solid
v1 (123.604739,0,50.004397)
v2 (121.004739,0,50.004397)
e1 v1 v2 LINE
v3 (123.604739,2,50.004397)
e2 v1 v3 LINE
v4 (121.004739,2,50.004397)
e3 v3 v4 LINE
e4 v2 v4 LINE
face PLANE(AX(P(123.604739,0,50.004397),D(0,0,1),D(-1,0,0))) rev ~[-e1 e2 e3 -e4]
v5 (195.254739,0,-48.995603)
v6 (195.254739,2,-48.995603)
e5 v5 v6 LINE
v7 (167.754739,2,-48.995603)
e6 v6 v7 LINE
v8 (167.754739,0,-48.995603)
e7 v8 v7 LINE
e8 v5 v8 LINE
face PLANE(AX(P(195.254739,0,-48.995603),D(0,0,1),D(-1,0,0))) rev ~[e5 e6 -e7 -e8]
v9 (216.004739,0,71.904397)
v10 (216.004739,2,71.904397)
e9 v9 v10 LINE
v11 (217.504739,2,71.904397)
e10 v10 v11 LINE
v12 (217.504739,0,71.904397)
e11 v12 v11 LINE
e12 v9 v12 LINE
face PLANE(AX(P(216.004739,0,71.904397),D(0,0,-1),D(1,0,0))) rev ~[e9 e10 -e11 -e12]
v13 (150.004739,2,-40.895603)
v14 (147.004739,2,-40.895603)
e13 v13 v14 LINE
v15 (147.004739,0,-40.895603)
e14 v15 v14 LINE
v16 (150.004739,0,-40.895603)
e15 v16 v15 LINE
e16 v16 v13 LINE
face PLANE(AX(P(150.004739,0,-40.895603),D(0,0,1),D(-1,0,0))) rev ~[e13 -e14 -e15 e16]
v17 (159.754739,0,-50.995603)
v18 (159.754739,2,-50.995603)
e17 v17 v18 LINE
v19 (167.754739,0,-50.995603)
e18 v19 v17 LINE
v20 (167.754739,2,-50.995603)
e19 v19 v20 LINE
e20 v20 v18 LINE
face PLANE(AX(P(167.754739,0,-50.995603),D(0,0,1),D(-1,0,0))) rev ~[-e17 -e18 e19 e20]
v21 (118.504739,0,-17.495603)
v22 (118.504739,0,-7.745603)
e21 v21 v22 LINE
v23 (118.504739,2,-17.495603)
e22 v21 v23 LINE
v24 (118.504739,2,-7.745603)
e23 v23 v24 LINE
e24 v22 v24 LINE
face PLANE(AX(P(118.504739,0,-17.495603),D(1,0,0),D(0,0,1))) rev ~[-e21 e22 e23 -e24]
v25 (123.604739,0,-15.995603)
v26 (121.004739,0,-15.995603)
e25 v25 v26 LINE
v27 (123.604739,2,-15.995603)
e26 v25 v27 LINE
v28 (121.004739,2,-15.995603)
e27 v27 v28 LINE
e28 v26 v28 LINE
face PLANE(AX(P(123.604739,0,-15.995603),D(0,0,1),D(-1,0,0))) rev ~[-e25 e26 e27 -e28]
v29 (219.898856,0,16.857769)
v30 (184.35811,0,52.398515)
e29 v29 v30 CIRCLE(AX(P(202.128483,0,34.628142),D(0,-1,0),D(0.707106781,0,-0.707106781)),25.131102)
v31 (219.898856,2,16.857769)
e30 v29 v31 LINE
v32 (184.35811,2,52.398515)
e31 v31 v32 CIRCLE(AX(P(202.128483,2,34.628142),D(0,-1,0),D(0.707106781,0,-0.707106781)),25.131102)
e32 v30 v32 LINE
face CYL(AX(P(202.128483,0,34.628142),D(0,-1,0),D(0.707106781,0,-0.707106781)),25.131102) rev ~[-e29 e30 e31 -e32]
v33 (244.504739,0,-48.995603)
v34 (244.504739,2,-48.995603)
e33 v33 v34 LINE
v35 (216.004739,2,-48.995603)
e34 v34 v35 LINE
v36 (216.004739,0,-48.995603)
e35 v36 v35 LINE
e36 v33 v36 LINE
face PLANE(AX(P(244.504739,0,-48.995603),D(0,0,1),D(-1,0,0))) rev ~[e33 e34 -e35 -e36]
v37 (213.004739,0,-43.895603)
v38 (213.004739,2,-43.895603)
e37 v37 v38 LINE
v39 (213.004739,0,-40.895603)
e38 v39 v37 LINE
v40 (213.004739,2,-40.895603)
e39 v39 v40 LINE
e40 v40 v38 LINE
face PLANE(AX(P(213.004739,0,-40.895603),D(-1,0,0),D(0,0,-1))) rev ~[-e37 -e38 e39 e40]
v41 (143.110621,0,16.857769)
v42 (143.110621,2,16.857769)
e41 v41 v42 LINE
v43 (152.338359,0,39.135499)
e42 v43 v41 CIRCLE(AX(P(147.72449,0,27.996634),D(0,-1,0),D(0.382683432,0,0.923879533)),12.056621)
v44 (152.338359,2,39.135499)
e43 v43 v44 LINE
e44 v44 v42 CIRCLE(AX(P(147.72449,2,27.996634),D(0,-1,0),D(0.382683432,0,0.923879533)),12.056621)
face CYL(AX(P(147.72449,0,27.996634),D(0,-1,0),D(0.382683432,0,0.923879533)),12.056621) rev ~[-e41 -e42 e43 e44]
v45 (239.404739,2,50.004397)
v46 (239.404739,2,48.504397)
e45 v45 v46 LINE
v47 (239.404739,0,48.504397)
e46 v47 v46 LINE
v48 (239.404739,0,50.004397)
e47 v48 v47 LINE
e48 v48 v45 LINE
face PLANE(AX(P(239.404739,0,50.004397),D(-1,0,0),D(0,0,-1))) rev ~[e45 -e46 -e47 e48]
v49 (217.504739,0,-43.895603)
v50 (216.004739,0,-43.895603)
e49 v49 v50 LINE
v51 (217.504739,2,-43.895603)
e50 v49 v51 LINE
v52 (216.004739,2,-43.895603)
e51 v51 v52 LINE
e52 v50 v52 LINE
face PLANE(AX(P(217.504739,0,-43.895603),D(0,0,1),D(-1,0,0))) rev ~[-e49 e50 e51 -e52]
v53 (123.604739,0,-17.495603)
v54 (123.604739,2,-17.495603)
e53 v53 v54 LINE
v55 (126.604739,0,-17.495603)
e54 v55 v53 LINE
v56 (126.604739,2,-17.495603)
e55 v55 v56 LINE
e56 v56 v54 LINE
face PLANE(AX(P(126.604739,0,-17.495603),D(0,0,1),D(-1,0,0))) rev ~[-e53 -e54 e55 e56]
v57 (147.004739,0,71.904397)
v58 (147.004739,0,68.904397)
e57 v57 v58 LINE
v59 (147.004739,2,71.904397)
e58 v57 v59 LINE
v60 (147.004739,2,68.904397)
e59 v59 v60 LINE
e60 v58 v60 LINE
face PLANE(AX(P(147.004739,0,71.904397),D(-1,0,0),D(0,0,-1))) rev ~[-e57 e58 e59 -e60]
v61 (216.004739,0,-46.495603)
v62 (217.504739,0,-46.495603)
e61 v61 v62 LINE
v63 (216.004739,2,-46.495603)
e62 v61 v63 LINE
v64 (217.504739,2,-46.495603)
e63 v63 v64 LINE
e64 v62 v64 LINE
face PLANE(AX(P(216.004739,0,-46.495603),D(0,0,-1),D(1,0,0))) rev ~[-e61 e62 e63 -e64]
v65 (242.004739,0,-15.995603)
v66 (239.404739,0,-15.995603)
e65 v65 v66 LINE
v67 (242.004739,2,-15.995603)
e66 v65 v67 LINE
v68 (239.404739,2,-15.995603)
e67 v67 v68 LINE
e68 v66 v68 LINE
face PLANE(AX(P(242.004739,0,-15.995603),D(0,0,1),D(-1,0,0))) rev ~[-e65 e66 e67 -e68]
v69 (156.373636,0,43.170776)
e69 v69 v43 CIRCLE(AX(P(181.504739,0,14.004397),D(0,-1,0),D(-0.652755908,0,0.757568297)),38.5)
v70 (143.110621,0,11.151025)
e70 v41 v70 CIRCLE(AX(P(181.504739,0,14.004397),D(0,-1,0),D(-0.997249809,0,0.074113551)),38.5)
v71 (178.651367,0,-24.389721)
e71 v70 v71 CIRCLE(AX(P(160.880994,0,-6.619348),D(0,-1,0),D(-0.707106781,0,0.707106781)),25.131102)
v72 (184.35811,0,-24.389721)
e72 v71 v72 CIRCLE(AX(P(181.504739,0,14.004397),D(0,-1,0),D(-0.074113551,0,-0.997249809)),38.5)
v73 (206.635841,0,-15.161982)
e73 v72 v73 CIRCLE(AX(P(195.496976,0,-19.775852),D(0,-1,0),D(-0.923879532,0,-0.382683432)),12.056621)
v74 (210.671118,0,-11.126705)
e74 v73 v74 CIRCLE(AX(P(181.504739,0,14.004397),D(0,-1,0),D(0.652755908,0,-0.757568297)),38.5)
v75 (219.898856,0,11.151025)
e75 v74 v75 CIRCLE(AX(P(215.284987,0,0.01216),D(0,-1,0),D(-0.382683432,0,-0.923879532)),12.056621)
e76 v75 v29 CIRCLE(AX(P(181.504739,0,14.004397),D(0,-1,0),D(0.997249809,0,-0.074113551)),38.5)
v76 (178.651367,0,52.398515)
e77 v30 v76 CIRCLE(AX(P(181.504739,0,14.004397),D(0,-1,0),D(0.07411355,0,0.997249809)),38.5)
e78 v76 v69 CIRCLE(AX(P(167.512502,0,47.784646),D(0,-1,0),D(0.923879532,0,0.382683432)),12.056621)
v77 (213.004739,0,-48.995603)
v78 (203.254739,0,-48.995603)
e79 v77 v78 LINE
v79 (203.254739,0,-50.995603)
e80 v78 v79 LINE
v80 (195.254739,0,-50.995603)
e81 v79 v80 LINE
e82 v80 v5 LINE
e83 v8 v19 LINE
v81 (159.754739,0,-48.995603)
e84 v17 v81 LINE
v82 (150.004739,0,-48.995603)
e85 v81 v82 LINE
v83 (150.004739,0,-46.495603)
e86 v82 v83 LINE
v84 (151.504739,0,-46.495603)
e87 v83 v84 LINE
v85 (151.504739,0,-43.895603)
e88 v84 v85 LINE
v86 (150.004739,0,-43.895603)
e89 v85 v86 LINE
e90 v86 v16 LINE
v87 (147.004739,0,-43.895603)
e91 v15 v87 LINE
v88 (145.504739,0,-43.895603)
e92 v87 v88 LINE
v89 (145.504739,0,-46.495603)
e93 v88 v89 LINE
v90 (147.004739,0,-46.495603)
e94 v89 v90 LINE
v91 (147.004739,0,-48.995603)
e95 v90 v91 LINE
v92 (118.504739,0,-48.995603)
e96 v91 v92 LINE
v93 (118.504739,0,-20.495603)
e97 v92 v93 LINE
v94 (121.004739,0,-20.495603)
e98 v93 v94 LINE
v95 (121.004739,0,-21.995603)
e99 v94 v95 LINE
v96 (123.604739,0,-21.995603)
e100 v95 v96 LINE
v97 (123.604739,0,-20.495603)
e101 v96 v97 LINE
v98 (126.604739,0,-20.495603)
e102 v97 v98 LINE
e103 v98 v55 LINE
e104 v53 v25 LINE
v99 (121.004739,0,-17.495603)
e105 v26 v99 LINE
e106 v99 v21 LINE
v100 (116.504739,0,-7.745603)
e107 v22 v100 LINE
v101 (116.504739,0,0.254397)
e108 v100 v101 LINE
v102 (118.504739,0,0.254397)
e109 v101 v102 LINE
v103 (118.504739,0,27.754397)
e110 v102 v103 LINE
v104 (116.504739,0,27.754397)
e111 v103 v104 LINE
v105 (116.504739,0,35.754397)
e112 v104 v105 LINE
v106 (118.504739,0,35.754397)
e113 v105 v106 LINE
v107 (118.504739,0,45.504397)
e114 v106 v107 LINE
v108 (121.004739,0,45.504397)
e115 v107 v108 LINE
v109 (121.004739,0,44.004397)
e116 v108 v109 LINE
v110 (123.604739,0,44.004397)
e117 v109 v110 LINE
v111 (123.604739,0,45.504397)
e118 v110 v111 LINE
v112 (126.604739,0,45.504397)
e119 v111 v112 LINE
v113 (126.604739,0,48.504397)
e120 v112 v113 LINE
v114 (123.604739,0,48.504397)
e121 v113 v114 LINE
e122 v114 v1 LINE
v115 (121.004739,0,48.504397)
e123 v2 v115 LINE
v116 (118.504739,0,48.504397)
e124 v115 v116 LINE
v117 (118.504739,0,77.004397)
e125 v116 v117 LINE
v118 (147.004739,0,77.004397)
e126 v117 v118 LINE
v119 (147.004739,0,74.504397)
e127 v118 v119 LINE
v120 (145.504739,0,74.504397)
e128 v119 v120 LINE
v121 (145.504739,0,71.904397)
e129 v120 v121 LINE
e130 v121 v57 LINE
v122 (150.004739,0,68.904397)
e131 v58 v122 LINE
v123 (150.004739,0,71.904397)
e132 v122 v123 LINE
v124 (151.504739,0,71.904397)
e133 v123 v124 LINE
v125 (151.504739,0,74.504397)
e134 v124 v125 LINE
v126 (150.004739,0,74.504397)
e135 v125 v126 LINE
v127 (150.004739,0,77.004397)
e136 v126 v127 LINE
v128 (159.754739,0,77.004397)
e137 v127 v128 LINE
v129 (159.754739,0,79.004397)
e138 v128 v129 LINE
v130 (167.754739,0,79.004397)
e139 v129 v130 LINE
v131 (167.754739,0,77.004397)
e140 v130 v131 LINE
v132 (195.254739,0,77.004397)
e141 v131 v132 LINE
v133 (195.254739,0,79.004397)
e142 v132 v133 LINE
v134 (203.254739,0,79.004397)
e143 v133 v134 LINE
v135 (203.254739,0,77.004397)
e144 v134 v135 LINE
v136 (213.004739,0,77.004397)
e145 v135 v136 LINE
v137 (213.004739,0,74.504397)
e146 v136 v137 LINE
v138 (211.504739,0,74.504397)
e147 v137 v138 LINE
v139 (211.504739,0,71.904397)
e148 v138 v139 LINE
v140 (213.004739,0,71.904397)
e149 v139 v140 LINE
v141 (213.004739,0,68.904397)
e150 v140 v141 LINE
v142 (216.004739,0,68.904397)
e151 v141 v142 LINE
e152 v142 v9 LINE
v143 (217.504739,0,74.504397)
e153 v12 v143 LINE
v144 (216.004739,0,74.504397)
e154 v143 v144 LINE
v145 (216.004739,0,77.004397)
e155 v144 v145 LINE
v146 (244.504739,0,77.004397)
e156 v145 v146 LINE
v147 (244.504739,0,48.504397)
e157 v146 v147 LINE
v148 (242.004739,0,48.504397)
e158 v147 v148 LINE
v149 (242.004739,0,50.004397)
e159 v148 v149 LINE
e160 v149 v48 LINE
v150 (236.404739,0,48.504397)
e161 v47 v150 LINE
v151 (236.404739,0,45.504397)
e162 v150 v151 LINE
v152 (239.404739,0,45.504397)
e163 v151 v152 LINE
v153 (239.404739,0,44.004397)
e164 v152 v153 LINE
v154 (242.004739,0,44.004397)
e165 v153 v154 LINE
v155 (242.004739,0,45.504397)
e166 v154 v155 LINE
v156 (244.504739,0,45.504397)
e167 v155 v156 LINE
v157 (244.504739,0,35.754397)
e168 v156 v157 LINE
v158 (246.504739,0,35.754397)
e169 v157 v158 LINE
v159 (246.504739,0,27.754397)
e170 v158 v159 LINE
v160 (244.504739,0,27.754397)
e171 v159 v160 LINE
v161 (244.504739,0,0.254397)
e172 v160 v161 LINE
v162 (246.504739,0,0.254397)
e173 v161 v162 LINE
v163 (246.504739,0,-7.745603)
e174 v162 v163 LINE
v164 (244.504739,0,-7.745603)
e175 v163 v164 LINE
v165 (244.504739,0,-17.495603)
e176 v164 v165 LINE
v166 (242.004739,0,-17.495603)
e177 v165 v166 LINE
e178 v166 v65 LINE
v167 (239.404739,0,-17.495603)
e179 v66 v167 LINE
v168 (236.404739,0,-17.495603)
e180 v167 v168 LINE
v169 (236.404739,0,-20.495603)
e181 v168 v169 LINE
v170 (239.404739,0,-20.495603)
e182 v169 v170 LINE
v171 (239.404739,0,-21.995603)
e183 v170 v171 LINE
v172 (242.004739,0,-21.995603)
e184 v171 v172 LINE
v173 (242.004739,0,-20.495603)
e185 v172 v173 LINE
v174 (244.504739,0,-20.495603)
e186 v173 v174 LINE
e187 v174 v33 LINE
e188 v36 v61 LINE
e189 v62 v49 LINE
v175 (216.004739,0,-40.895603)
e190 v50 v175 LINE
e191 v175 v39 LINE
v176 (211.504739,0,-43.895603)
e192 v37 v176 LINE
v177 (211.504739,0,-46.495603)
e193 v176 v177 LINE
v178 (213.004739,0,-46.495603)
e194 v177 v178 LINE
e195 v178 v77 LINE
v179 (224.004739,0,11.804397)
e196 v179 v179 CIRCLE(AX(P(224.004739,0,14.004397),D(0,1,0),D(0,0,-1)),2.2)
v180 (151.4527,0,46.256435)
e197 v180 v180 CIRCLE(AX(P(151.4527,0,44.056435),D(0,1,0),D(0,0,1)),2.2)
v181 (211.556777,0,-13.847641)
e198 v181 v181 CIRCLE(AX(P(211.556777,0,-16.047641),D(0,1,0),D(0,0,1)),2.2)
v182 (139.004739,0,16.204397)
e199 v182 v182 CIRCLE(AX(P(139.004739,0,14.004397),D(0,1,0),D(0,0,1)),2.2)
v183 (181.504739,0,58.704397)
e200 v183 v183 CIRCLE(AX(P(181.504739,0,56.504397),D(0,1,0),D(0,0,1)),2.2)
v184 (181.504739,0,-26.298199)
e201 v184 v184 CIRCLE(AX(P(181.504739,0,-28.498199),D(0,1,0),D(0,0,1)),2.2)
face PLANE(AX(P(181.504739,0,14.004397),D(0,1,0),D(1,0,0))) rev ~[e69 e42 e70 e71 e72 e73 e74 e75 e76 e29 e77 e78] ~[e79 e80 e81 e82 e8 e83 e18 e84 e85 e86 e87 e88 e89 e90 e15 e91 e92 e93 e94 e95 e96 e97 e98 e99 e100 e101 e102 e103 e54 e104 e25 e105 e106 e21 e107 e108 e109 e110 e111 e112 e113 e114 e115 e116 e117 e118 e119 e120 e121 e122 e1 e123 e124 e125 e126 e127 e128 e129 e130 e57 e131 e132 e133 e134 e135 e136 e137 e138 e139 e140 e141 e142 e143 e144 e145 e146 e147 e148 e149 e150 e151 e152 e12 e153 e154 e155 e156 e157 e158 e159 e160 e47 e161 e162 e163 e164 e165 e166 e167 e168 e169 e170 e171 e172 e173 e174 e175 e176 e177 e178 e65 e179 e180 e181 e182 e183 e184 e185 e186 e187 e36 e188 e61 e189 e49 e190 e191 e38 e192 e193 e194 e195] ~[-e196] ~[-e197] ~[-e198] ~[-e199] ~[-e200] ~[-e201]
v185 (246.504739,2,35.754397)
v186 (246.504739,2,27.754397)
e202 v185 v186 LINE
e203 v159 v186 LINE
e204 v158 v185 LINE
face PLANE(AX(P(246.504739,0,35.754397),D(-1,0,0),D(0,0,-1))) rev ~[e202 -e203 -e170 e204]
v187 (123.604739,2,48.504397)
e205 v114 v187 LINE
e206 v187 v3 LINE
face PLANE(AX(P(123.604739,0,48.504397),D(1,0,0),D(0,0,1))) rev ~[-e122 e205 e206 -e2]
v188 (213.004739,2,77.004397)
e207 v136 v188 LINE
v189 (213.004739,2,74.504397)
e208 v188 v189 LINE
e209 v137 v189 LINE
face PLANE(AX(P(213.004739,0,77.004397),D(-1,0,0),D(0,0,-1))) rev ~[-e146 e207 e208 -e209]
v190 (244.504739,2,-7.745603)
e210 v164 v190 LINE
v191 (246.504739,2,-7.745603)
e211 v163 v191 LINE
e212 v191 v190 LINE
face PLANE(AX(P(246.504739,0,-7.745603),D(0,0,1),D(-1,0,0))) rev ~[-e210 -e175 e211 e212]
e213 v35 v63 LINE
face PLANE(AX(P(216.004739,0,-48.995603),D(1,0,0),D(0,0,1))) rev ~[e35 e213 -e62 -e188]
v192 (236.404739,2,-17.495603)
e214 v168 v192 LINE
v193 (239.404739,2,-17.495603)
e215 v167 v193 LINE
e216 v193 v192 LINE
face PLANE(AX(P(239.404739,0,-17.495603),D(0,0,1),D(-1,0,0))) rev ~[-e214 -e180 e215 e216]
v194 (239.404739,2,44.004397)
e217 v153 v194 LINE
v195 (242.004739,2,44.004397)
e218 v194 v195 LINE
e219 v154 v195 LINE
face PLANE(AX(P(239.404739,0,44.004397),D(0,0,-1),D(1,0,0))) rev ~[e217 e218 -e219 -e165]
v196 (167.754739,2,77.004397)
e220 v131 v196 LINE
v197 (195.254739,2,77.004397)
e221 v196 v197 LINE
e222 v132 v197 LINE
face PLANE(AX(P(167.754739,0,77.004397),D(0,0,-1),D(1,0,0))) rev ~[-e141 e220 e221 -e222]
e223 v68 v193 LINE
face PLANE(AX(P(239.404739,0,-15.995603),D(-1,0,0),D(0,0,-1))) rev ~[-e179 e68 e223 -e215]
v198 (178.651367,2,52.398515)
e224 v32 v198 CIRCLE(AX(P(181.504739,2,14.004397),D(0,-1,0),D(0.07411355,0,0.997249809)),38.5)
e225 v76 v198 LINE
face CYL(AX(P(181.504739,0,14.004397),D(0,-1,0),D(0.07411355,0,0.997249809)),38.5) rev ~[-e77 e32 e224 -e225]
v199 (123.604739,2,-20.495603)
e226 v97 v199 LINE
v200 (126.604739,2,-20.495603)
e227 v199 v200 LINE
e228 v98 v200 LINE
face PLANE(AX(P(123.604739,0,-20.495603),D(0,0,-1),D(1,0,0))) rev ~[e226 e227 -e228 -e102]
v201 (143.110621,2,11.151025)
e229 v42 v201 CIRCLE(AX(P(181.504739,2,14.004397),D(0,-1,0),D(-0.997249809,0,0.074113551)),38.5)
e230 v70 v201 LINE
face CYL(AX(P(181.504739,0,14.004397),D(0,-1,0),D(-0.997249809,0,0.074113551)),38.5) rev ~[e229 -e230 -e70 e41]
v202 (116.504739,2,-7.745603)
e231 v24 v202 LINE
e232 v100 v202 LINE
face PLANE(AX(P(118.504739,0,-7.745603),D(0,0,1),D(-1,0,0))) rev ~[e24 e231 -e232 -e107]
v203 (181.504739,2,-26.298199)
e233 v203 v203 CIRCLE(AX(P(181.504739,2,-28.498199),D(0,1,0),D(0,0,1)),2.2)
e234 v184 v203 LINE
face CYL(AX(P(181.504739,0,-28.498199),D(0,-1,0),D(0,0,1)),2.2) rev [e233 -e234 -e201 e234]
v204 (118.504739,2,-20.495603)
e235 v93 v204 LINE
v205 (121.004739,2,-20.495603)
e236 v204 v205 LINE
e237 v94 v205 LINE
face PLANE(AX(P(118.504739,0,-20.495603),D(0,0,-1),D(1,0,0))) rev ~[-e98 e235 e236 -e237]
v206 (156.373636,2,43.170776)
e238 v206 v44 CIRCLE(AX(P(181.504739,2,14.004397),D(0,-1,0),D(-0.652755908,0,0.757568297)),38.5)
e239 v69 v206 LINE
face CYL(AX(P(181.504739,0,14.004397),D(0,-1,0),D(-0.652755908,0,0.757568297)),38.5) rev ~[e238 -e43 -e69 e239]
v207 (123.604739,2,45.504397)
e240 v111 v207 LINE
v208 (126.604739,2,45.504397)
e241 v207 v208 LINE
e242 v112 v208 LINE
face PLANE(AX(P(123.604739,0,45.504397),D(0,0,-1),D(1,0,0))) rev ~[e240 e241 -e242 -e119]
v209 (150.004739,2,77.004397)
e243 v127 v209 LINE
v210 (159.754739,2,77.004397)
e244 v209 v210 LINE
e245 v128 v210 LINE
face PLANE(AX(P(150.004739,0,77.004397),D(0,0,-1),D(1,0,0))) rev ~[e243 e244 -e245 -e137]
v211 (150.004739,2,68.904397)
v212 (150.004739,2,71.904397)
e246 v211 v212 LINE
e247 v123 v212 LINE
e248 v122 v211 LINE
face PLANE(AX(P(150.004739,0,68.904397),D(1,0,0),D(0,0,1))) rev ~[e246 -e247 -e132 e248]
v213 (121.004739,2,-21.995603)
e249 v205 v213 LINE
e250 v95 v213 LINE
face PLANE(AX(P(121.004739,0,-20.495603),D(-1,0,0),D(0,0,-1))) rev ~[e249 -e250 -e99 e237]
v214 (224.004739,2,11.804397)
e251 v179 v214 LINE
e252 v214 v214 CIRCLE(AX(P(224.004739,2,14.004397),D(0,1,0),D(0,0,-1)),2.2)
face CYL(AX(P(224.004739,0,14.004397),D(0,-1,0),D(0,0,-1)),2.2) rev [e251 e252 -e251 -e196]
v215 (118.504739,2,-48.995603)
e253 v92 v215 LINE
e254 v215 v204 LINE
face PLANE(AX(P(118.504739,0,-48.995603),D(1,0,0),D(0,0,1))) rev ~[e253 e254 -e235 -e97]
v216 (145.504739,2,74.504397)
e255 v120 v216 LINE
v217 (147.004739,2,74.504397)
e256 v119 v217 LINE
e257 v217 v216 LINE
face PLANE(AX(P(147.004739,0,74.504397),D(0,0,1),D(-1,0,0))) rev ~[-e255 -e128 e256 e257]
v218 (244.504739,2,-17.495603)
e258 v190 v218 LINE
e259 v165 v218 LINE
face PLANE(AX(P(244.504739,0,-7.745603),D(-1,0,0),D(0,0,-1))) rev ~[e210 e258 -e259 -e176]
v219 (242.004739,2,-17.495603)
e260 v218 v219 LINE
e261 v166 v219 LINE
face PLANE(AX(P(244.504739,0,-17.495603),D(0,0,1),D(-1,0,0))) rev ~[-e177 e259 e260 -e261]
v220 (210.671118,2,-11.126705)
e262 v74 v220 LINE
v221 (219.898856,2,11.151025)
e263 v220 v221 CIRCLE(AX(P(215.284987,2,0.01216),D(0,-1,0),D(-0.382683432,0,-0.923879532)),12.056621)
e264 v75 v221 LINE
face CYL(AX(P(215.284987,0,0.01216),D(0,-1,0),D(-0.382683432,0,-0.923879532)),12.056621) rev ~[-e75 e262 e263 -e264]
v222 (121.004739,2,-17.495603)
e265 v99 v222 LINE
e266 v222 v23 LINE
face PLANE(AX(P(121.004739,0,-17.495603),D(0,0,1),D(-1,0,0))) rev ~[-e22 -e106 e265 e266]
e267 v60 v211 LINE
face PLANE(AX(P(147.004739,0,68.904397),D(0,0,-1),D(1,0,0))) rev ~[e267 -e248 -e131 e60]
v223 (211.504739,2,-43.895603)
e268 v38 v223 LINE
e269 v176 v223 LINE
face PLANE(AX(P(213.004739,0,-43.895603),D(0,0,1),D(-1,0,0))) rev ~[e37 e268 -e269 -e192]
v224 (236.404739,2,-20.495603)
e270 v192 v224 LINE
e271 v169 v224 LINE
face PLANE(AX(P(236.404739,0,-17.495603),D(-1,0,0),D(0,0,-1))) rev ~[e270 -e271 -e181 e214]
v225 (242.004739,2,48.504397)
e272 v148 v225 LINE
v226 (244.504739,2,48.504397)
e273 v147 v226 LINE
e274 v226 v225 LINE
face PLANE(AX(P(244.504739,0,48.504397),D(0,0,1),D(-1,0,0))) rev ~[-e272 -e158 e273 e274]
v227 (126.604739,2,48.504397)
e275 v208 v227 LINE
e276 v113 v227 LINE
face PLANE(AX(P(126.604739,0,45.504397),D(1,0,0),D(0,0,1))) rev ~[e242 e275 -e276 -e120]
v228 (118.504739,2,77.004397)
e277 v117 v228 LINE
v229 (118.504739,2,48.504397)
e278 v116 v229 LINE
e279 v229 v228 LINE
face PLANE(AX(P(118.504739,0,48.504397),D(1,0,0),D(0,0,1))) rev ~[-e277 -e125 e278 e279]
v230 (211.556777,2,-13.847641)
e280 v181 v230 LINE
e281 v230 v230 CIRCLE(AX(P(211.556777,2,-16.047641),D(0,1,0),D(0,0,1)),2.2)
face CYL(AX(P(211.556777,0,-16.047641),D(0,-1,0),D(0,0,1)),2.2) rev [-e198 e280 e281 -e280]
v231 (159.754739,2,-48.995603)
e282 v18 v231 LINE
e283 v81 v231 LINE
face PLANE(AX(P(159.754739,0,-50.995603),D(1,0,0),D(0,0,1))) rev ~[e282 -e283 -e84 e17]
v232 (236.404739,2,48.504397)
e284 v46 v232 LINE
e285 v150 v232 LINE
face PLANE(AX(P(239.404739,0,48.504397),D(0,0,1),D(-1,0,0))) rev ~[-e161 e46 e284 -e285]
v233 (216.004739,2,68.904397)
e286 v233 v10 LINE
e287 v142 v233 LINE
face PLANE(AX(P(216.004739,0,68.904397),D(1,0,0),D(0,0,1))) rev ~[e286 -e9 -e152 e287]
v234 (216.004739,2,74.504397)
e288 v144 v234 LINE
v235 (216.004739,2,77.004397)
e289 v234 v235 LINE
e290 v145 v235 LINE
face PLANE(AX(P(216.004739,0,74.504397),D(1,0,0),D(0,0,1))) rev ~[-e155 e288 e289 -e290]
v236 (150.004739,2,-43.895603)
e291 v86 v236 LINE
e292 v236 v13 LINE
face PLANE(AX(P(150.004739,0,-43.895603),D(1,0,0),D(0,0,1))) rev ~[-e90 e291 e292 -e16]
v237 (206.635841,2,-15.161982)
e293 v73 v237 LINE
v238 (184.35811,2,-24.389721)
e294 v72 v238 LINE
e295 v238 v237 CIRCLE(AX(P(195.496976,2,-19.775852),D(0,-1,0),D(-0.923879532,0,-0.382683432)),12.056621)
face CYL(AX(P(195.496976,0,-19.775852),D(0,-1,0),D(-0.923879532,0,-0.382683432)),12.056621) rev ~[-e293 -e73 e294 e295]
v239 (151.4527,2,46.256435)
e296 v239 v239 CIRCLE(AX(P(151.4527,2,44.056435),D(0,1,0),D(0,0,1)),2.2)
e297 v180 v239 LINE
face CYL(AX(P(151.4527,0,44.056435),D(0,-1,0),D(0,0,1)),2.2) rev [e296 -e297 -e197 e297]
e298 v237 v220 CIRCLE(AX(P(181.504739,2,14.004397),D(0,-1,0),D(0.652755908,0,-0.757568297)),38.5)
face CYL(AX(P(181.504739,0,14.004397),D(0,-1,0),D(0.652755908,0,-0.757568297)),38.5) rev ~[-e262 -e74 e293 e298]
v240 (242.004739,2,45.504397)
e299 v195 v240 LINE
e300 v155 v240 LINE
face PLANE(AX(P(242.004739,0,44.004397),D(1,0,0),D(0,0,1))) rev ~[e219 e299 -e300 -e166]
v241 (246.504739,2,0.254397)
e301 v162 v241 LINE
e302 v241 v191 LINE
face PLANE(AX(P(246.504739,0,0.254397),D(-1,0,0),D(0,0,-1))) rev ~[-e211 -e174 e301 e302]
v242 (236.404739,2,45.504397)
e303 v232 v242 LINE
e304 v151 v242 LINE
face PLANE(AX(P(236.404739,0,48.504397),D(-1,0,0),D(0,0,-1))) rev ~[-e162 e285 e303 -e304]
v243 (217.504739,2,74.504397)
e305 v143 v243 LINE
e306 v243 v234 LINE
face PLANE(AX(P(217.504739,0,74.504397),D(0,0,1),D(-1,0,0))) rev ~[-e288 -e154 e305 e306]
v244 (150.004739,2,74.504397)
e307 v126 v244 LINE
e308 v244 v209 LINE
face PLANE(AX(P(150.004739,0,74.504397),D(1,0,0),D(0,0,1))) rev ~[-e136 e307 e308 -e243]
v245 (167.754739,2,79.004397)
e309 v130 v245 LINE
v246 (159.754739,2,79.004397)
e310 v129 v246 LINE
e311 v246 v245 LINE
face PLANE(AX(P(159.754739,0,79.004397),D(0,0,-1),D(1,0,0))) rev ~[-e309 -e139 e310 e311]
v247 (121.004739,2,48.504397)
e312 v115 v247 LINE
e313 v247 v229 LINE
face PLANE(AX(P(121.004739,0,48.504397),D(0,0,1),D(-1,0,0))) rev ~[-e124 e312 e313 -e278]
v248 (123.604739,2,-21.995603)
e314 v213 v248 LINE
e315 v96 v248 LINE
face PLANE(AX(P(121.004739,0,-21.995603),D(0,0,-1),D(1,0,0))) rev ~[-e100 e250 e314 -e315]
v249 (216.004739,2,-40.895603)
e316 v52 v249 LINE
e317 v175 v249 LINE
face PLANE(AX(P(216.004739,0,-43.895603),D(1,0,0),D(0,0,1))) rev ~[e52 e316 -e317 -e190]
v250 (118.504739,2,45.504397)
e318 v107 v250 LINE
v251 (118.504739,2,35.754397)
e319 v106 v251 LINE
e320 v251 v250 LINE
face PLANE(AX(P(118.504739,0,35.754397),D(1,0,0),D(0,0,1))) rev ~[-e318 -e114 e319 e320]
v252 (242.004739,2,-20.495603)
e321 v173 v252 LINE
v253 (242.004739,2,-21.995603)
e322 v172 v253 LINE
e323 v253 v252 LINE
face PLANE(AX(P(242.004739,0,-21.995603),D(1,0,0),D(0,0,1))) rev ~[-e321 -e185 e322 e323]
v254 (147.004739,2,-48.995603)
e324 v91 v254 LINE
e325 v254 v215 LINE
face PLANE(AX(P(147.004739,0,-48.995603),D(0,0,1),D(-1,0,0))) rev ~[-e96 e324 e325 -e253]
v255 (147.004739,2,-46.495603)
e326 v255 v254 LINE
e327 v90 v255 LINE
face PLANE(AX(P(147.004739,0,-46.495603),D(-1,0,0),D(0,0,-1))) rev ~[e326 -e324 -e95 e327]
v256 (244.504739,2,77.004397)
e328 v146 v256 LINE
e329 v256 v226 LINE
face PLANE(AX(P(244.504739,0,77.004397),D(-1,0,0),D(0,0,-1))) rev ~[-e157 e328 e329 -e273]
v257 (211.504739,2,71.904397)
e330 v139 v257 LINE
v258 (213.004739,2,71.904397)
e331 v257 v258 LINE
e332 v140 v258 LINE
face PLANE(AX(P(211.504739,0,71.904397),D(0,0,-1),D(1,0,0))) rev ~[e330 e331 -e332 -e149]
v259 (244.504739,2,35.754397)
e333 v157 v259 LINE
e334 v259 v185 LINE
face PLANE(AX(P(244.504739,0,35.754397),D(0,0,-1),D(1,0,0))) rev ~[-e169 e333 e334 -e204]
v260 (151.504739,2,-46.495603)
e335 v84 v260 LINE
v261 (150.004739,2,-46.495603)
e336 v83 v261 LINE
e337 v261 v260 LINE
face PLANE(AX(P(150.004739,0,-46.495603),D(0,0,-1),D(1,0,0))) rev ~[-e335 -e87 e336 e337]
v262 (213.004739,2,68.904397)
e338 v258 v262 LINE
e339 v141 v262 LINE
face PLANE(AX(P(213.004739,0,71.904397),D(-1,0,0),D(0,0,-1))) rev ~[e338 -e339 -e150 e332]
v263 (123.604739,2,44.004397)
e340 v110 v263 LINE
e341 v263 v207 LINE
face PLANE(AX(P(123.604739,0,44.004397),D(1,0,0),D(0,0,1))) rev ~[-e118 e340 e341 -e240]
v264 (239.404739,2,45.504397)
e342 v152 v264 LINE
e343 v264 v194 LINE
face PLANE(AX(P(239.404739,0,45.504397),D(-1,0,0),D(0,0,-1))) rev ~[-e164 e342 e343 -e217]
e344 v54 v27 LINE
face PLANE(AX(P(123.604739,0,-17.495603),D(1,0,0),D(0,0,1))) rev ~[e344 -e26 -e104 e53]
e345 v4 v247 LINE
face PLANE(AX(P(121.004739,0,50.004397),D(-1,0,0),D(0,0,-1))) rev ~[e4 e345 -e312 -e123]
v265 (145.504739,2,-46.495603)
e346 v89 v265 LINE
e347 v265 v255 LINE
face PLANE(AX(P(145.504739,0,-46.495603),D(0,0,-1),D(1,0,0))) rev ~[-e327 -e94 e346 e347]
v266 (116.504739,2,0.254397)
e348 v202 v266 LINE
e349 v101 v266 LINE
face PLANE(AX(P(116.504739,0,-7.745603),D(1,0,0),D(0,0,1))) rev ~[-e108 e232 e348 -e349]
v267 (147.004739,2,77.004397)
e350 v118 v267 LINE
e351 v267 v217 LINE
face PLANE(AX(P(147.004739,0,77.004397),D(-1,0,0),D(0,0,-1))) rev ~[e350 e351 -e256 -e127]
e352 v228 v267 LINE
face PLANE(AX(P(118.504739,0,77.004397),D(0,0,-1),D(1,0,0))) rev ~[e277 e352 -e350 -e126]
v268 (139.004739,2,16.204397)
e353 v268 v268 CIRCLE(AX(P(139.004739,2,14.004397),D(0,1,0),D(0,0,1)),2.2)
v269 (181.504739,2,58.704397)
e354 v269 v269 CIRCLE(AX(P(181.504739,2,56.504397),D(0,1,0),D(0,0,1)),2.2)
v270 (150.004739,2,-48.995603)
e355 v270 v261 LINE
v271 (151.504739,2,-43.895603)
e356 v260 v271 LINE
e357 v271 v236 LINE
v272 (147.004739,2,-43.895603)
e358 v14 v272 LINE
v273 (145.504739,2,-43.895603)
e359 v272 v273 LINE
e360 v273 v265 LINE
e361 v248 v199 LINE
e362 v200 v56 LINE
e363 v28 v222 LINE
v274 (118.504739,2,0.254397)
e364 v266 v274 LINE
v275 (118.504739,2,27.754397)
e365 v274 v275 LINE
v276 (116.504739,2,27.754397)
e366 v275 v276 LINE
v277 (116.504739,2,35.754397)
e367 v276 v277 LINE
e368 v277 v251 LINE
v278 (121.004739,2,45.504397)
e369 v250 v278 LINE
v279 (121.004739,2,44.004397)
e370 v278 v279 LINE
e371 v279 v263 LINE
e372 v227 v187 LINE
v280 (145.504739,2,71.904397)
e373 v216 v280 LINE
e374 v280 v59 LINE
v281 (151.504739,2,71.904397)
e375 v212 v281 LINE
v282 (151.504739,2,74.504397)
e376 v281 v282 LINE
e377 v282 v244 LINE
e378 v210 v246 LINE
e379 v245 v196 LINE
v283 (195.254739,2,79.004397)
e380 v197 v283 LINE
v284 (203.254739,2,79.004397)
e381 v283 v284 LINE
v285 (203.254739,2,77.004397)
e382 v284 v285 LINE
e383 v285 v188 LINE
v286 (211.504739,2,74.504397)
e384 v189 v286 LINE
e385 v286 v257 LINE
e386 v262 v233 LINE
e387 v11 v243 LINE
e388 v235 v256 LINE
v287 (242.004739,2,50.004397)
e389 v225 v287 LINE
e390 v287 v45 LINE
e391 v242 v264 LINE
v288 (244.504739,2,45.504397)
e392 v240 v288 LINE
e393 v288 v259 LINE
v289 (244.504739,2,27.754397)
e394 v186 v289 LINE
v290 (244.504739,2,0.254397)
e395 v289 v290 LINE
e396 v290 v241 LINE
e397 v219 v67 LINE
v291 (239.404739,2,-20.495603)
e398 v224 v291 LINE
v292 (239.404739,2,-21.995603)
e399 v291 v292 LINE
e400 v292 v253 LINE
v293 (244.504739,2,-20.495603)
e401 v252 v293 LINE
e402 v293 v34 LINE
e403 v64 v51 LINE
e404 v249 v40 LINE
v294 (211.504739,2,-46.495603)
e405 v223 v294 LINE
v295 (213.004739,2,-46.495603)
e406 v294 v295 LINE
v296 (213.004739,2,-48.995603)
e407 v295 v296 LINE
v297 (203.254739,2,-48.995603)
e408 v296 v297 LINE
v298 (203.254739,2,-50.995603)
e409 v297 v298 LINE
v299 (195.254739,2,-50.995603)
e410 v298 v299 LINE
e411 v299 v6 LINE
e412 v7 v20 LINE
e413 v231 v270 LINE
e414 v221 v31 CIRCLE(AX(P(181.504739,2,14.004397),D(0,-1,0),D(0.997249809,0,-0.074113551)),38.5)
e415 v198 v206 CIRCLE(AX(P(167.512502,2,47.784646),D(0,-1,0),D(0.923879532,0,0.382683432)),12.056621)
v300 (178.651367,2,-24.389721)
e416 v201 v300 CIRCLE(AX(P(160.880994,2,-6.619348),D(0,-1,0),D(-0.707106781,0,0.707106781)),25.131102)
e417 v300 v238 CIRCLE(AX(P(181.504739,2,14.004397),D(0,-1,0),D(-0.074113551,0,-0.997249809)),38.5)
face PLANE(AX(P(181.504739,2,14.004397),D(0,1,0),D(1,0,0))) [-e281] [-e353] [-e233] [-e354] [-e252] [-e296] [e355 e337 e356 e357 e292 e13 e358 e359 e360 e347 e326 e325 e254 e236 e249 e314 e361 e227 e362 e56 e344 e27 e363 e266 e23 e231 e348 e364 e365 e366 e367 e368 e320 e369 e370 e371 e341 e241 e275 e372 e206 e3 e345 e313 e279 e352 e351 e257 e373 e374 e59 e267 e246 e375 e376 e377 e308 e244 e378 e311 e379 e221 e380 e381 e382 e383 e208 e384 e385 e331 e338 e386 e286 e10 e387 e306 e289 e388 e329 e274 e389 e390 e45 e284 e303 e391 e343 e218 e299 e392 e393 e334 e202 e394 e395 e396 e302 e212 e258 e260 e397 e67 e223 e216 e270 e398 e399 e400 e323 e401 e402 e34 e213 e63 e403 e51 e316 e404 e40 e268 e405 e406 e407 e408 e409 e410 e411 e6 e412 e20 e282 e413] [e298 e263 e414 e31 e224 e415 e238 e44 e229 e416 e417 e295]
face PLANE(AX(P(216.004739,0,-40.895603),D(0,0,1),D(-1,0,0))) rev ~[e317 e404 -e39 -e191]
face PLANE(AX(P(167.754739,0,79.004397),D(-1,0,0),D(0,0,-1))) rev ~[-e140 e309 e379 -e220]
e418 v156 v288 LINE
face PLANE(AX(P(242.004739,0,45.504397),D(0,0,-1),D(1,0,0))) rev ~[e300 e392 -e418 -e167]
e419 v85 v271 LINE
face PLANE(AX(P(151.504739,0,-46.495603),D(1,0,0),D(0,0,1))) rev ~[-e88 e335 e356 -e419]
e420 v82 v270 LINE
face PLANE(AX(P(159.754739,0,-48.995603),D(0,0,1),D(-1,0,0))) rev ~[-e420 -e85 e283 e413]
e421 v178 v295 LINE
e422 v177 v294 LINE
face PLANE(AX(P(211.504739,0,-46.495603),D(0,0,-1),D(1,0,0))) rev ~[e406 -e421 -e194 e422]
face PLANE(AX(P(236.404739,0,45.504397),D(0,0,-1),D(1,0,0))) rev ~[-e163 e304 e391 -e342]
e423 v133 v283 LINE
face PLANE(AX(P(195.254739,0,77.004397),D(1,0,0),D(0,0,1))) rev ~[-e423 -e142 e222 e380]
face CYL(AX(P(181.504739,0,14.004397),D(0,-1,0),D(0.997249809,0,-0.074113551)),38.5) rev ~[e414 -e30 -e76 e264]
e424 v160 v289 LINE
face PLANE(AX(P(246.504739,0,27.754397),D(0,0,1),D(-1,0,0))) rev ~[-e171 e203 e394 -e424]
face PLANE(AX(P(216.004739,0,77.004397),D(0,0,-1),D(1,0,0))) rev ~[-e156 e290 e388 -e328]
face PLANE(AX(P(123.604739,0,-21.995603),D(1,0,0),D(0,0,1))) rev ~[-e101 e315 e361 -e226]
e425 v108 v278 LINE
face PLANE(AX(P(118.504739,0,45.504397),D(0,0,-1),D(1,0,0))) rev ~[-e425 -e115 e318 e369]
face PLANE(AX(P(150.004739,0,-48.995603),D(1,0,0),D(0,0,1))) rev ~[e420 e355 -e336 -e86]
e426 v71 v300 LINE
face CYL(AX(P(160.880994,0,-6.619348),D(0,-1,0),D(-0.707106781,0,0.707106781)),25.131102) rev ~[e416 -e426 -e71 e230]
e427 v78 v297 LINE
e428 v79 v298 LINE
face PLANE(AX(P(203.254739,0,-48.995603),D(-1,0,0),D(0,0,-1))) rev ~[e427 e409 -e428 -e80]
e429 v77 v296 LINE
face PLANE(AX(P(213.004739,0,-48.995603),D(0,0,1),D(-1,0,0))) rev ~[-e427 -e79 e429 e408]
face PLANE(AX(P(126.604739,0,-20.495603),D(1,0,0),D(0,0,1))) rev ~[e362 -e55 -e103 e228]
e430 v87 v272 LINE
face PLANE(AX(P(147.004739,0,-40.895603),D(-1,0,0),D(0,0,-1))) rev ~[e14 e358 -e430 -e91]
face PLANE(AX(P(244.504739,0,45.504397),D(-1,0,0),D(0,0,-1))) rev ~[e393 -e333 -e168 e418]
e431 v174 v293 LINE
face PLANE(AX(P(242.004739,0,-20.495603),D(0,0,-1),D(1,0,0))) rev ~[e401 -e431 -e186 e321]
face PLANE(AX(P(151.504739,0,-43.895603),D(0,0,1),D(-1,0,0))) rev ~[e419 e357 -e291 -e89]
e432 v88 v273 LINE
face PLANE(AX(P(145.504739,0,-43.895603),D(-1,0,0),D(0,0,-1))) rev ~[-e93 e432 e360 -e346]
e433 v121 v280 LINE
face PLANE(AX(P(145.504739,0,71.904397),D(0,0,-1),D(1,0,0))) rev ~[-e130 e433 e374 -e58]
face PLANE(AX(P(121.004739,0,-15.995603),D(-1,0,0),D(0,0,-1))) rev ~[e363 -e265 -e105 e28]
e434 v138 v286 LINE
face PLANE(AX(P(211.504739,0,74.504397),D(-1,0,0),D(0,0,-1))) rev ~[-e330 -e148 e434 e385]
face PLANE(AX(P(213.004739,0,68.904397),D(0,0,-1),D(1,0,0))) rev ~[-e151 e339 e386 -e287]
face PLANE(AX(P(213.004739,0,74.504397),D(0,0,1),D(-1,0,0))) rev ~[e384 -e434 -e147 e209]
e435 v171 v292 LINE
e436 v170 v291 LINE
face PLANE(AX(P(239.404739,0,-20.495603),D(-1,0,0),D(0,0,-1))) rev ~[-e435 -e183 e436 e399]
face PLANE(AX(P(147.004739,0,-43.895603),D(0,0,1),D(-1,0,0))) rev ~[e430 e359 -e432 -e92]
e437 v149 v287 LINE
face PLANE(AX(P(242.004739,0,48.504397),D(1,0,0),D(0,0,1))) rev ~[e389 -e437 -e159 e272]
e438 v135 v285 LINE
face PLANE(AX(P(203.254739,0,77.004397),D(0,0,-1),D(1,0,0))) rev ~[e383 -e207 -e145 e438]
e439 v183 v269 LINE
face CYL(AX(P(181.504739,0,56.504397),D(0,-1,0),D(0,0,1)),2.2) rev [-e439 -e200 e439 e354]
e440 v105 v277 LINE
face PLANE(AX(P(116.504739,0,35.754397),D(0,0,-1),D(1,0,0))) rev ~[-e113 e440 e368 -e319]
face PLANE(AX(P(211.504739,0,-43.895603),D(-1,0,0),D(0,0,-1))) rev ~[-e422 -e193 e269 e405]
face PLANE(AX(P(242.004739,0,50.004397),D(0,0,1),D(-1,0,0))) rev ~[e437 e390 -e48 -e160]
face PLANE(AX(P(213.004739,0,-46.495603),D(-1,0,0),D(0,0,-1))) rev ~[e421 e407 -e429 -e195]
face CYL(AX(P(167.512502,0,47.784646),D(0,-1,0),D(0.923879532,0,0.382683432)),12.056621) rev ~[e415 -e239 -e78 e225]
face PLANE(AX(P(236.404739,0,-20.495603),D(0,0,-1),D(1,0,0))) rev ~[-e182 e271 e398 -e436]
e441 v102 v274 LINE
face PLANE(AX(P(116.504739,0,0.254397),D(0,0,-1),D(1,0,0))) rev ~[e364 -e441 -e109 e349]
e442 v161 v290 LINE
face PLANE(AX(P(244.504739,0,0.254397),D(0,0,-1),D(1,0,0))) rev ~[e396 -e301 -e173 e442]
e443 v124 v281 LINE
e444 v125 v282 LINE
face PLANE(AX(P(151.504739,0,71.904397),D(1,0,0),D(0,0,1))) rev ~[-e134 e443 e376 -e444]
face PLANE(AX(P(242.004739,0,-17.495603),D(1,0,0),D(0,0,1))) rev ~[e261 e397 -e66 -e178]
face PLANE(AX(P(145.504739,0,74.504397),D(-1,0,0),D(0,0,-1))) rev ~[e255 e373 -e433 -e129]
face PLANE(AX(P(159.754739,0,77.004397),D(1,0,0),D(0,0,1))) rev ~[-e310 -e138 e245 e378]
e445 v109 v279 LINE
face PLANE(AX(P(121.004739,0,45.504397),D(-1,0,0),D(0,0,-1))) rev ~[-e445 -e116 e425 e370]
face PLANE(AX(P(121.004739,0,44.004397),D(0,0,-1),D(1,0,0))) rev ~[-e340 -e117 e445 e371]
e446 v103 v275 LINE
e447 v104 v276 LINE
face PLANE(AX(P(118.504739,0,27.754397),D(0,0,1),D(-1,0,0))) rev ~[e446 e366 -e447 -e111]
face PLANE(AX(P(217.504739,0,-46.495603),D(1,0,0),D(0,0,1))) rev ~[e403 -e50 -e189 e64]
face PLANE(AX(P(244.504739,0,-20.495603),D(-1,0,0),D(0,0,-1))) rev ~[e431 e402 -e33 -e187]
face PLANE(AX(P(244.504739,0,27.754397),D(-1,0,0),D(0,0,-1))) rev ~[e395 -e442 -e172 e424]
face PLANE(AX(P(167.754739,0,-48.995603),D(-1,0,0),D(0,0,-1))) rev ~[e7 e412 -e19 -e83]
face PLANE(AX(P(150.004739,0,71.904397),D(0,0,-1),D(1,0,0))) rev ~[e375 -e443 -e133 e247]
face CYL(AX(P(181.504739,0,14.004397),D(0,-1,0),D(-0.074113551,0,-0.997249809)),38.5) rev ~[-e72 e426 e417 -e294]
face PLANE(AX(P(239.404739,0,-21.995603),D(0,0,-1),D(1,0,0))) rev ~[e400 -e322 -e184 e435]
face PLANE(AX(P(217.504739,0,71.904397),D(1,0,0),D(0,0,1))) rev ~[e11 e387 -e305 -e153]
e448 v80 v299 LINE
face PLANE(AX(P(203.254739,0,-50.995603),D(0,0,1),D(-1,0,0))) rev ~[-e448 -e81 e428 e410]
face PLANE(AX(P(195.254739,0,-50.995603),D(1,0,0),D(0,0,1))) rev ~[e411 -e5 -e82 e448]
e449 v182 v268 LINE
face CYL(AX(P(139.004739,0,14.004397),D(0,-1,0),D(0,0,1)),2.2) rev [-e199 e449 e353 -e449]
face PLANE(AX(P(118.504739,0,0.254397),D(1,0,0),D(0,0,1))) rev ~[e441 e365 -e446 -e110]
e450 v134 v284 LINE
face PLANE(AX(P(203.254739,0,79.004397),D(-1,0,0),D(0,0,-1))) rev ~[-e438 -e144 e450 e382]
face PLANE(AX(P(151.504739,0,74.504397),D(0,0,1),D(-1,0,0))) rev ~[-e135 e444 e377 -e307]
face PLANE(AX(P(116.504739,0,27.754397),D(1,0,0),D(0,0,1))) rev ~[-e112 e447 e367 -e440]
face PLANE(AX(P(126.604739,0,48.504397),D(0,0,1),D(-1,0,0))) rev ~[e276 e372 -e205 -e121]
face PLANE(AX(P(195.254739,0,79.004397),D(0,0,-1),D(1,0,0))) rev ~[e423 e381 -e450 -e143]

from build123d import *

# Parameters (mm, degrees)
SKETCH_1_R      = 2.2
EXTRUDE_1_DEPTH = 2


with BuildPart() as part:
    # 草图1 → 凸台-拉伸1 (new body)
    with BuildSketch(Plane(origin=(0, 0, 0), x_dir=(1, 0, 0), z_dir=(0, 1, 0))):
        Polygon((159.754738648, 48.995603023), (150.004738648, 48.995603023), (150.004738648, 46.495603023), (151.504738648, 46.495603023), (151.504738648, 43.895603023), (150.004738648, 43.895603023), (150.004738648, 40.895603023), (147.004738648, 40.895603023), (147.004738648, 43.895603023), (145.504738648, 43.895603023), (145.504738648, 46.495603023), (147.004738648, 46.495603023), (147.004738648, 48.995603023), (138.604738648, 48.995603023), (133.504738648, 48.995603023), (118.504738648, 48.995603023), (118.504738648, 33.995603023), (118.504738648, 21.495603023), (118.504738648, 20.495603023), (121.004738648, 20.495603023), (121.004738648, 21.995603023), (123.604738648, 21.995603023), (123.604738648, 20.495603023), (126.604738648, 20.495603023), (126.604738648, 17.495603023), (123.604738648, 17.495603023), (123.604738648, 15.995603023), (121.004738648, 15.995603023), (121.004738648, 17.495603023), (118.504738648, 17.495603023), (118.504738648, 7.745603023), (116.504738648, 7.745603023), (116.504738648, -0.254396977), (118.504738648, -0.254396977), (118.504738648, -27.754396977), (116.504738648, -27.754396977), (116.504738648, -35.754396977), (118.504738648, -35.754396977), (118.504738648, -45.504396977), (121.004738648, -45.504396977), (121.004738648, -44.004396977), (123.604738648, -44.004396977), (123.604738648, -45.504396977), (126.604738648, -45.504396977), (126.604738648, -48.504396977), (123.604738648, -48.504396977), (123.604738648, -50.004396977), (121.004738648, -50.004396977), (121.004738648, -48.504396977), (118.504738648, -48.504396977), (118.504738648, -56.904396977), (118.504738648, -62.004396977), (118.504738648, -77.004396977), (133.504738648, -77.004396977), (146.004738648, -77.004396977), (147.004738648, -77.004396977), (147.004738648, -74.504396977), (145.504738648, -74.504396977), (145.504738648, -71.904396977), (147.004738648, -71.904396977), (147.004738648, -68.904396977), (150.004738648, -68.904396977), (150.004738648, -71.904396977), (151.504738648, -71.904396977), (151.504738648, -74.504396977), (150.004738648, -74.504396977), (150.004738648, -77.004396977), (159.754738648, -77.004396977), (159.754738648, -79.004396977), (167.754738648, -79.004396977), (167.754738648, -77.004396977), (195.254738648, -77.004396977), (195.254738648, -79.004396977), (203.254738648, -79.004396977), (203.254738648, -77.004396977), (213.004738648, -77.004396977), (213.004738648, -74.504396977), (211.504738648, -74.504396977), (211.504738648, -71.904396977), (213.004738648, -71.904396977), (213.004738648, -68.904396977), (216.004738648, -68.904396977), (216.004738648, -71.904396977), (217.504738648, -71.904396977), (217.504738648, -74.504396977), (216.004738648, -74.504396977), (216.004738648, -77.004396977), (224.404738648, -77.004396977), (229.504738648, -77.004396977), (244.504738648, -77.004396977), (244.504738648, -62.004396977), (244.504738648, -49.504396977), (244.504738648, -48.504396977), (242.004738648, -48.504396977), (242.004738648, -50.004396977), (239.404738648, -50.004396977), (239.404738648, -48.504396977), (236.404738648, -48.504396977), (236.404738648, -45.504396977), (239.404738648, -45.504396977), (239.404738648, -44.004396977), (242.004738648, -44.004396977), (242.004738648, -45.504396977), (244.504738648, -45.504396977), (244.504738648, -35.754396977), (246.504738648, -35.754396977), (246.504738648, -27.754396977), (244.504738648, -27.754396977), (244.504738648, -0.254396977), (246.504738648, -0.254396977), (246.504738648, 7.745603023), (244.504738648, 7.745603023), (244.504738648, 17.495603023), (242.004738648, 17.495603023), (242.004738648, 15.995603023), (239.404738648, 15.995603023), (239.404738648, 17.495603023), (236.404738648, 17.495603023), (236.404738648, 20.495603023), (239.404738648, 20.495603023), (239.404738648, 21.995603023), (242.004738648, 21.995603023), (242.004738648, 20.495603023), (244.504738648, 20.495603023), (244.504738648, 28.895603023), (244.504738648, 33.995603023), (244.504738648, 48.995603023), (229.504738648, 48.995603023), (217.004738648, 48.995603023), (216.004738648, 48.995603023), (216.004738648, 46.495603023), (217.504738648, 46.495603023), (217.504738648, 43.895603023), (216.004738648, 43.895603023), (216.004738648, 40.895603023), (213.004738648, 40.895603023), (213.004738648, 43.895603023), (211.504738648, 43.895603023), (211.504738648, 46.495603023), (213.004738648, 46.495603023), (213.004738648, 48.995603023), (203.254738648, 48.995603023), (203.254738648, 50.995603023), (195.254738648, 50.995603023), (195.254738648, 48.995603023), (167.754738648, 48.995603023), (167.754738648, 50.995603023), (159.754738648, 50.995603023), align=None)
        with Locations(Location((181.504738648, -56.504396977, 0), (0, 0, 270))):
            Circle(SKETCH_1_R, mode=Mode.SUBTRACT)
        with Locations(Location((151.452700448, -44.056435178, 0), (0, 0, 270))):
            Circle(SKETCH_1_R, mode=Mode.SUBTRACT)
        with Locations(Location((139.004738648, -14.004396977, 0), (0, 0, 270))):
            Circle(SKETCH_1_R, mode=Mode.SUBTRACT)
        with Locations(Location((224.004738648, -14.004396977, 0), (0, 0, 90))):
            Circle(SKETCH_1_R, mode=Mode.SUBTRACT)
        with Locations(Location((211.556776849, 16.047641223, 0), (0, 0, 270))):
            Circle(SKETCH_1_R, mode=Mode.SUBTRACT)
        with Locations(Location((181.504738648, 28.49819903, 0), (0, 0, 270))):
            Circle(SKETCH_1_R, mode=Mode.SUBTRACT)
        with BuildLine():
            ThreePointArc((156.373636186, -43.170776407), (154.281127573, -41.228008053), (152.338359218, -39.135499439))
            ThreePointArc((152.338359218, -39.135499439), (136.585624733, -32.610503171), (143.110621001, -16.857768685))
            ThreePointArc((143.110621001, -16.857768685), (143.004738648, -14.004396977), (143.110621001, -11.15102527))
            ThreePointArc((143.110621001, -11.15102527), (143.110621001, 24.38972067), (178.65136694, 24.38972067))
            ThreePointArc((178.65136694, 24.38972067), (181.504738648, 24.495603023), (184.358110356, 24.38972067))
            ThreePointArc((184.358110356, 24.38972067), (200.110844842, 30.914716938), (206.63584111, 15.161982452))
            ThreePointArc((206.63584111, 15.161982452), (208.728349724, 13.219214098), (210.671118078, 11.126705484))
            ThreePointArc((210.671118078, 11.126705484), (226.423852564, 4.601709216), (219.898856295, -11.15102527))
            ThreePointArc((219.898856295, -11.15102527), (220.004738648, -14.004396977), (219.898856295, -16.857768685))
            ThreePointArc((219.898856295, -16.857768685), (219.898856295, -52.398514625), (184.358110356, -52.398514625))
            ThreePointArc((184.358110356, -52.398514625), (181.504738648, -52.504396977), (178.65136694, -52.398514625))
            ThreePointArc((178.65136694, -52.398514625), (162.898632455, -58.923510893), (156.373636186, -43.170776407))
        make_face(mode=Mode.SUBTRACT)
    extrude(amount=EXTRUDE_1_DEPTH)


solid = part.part
